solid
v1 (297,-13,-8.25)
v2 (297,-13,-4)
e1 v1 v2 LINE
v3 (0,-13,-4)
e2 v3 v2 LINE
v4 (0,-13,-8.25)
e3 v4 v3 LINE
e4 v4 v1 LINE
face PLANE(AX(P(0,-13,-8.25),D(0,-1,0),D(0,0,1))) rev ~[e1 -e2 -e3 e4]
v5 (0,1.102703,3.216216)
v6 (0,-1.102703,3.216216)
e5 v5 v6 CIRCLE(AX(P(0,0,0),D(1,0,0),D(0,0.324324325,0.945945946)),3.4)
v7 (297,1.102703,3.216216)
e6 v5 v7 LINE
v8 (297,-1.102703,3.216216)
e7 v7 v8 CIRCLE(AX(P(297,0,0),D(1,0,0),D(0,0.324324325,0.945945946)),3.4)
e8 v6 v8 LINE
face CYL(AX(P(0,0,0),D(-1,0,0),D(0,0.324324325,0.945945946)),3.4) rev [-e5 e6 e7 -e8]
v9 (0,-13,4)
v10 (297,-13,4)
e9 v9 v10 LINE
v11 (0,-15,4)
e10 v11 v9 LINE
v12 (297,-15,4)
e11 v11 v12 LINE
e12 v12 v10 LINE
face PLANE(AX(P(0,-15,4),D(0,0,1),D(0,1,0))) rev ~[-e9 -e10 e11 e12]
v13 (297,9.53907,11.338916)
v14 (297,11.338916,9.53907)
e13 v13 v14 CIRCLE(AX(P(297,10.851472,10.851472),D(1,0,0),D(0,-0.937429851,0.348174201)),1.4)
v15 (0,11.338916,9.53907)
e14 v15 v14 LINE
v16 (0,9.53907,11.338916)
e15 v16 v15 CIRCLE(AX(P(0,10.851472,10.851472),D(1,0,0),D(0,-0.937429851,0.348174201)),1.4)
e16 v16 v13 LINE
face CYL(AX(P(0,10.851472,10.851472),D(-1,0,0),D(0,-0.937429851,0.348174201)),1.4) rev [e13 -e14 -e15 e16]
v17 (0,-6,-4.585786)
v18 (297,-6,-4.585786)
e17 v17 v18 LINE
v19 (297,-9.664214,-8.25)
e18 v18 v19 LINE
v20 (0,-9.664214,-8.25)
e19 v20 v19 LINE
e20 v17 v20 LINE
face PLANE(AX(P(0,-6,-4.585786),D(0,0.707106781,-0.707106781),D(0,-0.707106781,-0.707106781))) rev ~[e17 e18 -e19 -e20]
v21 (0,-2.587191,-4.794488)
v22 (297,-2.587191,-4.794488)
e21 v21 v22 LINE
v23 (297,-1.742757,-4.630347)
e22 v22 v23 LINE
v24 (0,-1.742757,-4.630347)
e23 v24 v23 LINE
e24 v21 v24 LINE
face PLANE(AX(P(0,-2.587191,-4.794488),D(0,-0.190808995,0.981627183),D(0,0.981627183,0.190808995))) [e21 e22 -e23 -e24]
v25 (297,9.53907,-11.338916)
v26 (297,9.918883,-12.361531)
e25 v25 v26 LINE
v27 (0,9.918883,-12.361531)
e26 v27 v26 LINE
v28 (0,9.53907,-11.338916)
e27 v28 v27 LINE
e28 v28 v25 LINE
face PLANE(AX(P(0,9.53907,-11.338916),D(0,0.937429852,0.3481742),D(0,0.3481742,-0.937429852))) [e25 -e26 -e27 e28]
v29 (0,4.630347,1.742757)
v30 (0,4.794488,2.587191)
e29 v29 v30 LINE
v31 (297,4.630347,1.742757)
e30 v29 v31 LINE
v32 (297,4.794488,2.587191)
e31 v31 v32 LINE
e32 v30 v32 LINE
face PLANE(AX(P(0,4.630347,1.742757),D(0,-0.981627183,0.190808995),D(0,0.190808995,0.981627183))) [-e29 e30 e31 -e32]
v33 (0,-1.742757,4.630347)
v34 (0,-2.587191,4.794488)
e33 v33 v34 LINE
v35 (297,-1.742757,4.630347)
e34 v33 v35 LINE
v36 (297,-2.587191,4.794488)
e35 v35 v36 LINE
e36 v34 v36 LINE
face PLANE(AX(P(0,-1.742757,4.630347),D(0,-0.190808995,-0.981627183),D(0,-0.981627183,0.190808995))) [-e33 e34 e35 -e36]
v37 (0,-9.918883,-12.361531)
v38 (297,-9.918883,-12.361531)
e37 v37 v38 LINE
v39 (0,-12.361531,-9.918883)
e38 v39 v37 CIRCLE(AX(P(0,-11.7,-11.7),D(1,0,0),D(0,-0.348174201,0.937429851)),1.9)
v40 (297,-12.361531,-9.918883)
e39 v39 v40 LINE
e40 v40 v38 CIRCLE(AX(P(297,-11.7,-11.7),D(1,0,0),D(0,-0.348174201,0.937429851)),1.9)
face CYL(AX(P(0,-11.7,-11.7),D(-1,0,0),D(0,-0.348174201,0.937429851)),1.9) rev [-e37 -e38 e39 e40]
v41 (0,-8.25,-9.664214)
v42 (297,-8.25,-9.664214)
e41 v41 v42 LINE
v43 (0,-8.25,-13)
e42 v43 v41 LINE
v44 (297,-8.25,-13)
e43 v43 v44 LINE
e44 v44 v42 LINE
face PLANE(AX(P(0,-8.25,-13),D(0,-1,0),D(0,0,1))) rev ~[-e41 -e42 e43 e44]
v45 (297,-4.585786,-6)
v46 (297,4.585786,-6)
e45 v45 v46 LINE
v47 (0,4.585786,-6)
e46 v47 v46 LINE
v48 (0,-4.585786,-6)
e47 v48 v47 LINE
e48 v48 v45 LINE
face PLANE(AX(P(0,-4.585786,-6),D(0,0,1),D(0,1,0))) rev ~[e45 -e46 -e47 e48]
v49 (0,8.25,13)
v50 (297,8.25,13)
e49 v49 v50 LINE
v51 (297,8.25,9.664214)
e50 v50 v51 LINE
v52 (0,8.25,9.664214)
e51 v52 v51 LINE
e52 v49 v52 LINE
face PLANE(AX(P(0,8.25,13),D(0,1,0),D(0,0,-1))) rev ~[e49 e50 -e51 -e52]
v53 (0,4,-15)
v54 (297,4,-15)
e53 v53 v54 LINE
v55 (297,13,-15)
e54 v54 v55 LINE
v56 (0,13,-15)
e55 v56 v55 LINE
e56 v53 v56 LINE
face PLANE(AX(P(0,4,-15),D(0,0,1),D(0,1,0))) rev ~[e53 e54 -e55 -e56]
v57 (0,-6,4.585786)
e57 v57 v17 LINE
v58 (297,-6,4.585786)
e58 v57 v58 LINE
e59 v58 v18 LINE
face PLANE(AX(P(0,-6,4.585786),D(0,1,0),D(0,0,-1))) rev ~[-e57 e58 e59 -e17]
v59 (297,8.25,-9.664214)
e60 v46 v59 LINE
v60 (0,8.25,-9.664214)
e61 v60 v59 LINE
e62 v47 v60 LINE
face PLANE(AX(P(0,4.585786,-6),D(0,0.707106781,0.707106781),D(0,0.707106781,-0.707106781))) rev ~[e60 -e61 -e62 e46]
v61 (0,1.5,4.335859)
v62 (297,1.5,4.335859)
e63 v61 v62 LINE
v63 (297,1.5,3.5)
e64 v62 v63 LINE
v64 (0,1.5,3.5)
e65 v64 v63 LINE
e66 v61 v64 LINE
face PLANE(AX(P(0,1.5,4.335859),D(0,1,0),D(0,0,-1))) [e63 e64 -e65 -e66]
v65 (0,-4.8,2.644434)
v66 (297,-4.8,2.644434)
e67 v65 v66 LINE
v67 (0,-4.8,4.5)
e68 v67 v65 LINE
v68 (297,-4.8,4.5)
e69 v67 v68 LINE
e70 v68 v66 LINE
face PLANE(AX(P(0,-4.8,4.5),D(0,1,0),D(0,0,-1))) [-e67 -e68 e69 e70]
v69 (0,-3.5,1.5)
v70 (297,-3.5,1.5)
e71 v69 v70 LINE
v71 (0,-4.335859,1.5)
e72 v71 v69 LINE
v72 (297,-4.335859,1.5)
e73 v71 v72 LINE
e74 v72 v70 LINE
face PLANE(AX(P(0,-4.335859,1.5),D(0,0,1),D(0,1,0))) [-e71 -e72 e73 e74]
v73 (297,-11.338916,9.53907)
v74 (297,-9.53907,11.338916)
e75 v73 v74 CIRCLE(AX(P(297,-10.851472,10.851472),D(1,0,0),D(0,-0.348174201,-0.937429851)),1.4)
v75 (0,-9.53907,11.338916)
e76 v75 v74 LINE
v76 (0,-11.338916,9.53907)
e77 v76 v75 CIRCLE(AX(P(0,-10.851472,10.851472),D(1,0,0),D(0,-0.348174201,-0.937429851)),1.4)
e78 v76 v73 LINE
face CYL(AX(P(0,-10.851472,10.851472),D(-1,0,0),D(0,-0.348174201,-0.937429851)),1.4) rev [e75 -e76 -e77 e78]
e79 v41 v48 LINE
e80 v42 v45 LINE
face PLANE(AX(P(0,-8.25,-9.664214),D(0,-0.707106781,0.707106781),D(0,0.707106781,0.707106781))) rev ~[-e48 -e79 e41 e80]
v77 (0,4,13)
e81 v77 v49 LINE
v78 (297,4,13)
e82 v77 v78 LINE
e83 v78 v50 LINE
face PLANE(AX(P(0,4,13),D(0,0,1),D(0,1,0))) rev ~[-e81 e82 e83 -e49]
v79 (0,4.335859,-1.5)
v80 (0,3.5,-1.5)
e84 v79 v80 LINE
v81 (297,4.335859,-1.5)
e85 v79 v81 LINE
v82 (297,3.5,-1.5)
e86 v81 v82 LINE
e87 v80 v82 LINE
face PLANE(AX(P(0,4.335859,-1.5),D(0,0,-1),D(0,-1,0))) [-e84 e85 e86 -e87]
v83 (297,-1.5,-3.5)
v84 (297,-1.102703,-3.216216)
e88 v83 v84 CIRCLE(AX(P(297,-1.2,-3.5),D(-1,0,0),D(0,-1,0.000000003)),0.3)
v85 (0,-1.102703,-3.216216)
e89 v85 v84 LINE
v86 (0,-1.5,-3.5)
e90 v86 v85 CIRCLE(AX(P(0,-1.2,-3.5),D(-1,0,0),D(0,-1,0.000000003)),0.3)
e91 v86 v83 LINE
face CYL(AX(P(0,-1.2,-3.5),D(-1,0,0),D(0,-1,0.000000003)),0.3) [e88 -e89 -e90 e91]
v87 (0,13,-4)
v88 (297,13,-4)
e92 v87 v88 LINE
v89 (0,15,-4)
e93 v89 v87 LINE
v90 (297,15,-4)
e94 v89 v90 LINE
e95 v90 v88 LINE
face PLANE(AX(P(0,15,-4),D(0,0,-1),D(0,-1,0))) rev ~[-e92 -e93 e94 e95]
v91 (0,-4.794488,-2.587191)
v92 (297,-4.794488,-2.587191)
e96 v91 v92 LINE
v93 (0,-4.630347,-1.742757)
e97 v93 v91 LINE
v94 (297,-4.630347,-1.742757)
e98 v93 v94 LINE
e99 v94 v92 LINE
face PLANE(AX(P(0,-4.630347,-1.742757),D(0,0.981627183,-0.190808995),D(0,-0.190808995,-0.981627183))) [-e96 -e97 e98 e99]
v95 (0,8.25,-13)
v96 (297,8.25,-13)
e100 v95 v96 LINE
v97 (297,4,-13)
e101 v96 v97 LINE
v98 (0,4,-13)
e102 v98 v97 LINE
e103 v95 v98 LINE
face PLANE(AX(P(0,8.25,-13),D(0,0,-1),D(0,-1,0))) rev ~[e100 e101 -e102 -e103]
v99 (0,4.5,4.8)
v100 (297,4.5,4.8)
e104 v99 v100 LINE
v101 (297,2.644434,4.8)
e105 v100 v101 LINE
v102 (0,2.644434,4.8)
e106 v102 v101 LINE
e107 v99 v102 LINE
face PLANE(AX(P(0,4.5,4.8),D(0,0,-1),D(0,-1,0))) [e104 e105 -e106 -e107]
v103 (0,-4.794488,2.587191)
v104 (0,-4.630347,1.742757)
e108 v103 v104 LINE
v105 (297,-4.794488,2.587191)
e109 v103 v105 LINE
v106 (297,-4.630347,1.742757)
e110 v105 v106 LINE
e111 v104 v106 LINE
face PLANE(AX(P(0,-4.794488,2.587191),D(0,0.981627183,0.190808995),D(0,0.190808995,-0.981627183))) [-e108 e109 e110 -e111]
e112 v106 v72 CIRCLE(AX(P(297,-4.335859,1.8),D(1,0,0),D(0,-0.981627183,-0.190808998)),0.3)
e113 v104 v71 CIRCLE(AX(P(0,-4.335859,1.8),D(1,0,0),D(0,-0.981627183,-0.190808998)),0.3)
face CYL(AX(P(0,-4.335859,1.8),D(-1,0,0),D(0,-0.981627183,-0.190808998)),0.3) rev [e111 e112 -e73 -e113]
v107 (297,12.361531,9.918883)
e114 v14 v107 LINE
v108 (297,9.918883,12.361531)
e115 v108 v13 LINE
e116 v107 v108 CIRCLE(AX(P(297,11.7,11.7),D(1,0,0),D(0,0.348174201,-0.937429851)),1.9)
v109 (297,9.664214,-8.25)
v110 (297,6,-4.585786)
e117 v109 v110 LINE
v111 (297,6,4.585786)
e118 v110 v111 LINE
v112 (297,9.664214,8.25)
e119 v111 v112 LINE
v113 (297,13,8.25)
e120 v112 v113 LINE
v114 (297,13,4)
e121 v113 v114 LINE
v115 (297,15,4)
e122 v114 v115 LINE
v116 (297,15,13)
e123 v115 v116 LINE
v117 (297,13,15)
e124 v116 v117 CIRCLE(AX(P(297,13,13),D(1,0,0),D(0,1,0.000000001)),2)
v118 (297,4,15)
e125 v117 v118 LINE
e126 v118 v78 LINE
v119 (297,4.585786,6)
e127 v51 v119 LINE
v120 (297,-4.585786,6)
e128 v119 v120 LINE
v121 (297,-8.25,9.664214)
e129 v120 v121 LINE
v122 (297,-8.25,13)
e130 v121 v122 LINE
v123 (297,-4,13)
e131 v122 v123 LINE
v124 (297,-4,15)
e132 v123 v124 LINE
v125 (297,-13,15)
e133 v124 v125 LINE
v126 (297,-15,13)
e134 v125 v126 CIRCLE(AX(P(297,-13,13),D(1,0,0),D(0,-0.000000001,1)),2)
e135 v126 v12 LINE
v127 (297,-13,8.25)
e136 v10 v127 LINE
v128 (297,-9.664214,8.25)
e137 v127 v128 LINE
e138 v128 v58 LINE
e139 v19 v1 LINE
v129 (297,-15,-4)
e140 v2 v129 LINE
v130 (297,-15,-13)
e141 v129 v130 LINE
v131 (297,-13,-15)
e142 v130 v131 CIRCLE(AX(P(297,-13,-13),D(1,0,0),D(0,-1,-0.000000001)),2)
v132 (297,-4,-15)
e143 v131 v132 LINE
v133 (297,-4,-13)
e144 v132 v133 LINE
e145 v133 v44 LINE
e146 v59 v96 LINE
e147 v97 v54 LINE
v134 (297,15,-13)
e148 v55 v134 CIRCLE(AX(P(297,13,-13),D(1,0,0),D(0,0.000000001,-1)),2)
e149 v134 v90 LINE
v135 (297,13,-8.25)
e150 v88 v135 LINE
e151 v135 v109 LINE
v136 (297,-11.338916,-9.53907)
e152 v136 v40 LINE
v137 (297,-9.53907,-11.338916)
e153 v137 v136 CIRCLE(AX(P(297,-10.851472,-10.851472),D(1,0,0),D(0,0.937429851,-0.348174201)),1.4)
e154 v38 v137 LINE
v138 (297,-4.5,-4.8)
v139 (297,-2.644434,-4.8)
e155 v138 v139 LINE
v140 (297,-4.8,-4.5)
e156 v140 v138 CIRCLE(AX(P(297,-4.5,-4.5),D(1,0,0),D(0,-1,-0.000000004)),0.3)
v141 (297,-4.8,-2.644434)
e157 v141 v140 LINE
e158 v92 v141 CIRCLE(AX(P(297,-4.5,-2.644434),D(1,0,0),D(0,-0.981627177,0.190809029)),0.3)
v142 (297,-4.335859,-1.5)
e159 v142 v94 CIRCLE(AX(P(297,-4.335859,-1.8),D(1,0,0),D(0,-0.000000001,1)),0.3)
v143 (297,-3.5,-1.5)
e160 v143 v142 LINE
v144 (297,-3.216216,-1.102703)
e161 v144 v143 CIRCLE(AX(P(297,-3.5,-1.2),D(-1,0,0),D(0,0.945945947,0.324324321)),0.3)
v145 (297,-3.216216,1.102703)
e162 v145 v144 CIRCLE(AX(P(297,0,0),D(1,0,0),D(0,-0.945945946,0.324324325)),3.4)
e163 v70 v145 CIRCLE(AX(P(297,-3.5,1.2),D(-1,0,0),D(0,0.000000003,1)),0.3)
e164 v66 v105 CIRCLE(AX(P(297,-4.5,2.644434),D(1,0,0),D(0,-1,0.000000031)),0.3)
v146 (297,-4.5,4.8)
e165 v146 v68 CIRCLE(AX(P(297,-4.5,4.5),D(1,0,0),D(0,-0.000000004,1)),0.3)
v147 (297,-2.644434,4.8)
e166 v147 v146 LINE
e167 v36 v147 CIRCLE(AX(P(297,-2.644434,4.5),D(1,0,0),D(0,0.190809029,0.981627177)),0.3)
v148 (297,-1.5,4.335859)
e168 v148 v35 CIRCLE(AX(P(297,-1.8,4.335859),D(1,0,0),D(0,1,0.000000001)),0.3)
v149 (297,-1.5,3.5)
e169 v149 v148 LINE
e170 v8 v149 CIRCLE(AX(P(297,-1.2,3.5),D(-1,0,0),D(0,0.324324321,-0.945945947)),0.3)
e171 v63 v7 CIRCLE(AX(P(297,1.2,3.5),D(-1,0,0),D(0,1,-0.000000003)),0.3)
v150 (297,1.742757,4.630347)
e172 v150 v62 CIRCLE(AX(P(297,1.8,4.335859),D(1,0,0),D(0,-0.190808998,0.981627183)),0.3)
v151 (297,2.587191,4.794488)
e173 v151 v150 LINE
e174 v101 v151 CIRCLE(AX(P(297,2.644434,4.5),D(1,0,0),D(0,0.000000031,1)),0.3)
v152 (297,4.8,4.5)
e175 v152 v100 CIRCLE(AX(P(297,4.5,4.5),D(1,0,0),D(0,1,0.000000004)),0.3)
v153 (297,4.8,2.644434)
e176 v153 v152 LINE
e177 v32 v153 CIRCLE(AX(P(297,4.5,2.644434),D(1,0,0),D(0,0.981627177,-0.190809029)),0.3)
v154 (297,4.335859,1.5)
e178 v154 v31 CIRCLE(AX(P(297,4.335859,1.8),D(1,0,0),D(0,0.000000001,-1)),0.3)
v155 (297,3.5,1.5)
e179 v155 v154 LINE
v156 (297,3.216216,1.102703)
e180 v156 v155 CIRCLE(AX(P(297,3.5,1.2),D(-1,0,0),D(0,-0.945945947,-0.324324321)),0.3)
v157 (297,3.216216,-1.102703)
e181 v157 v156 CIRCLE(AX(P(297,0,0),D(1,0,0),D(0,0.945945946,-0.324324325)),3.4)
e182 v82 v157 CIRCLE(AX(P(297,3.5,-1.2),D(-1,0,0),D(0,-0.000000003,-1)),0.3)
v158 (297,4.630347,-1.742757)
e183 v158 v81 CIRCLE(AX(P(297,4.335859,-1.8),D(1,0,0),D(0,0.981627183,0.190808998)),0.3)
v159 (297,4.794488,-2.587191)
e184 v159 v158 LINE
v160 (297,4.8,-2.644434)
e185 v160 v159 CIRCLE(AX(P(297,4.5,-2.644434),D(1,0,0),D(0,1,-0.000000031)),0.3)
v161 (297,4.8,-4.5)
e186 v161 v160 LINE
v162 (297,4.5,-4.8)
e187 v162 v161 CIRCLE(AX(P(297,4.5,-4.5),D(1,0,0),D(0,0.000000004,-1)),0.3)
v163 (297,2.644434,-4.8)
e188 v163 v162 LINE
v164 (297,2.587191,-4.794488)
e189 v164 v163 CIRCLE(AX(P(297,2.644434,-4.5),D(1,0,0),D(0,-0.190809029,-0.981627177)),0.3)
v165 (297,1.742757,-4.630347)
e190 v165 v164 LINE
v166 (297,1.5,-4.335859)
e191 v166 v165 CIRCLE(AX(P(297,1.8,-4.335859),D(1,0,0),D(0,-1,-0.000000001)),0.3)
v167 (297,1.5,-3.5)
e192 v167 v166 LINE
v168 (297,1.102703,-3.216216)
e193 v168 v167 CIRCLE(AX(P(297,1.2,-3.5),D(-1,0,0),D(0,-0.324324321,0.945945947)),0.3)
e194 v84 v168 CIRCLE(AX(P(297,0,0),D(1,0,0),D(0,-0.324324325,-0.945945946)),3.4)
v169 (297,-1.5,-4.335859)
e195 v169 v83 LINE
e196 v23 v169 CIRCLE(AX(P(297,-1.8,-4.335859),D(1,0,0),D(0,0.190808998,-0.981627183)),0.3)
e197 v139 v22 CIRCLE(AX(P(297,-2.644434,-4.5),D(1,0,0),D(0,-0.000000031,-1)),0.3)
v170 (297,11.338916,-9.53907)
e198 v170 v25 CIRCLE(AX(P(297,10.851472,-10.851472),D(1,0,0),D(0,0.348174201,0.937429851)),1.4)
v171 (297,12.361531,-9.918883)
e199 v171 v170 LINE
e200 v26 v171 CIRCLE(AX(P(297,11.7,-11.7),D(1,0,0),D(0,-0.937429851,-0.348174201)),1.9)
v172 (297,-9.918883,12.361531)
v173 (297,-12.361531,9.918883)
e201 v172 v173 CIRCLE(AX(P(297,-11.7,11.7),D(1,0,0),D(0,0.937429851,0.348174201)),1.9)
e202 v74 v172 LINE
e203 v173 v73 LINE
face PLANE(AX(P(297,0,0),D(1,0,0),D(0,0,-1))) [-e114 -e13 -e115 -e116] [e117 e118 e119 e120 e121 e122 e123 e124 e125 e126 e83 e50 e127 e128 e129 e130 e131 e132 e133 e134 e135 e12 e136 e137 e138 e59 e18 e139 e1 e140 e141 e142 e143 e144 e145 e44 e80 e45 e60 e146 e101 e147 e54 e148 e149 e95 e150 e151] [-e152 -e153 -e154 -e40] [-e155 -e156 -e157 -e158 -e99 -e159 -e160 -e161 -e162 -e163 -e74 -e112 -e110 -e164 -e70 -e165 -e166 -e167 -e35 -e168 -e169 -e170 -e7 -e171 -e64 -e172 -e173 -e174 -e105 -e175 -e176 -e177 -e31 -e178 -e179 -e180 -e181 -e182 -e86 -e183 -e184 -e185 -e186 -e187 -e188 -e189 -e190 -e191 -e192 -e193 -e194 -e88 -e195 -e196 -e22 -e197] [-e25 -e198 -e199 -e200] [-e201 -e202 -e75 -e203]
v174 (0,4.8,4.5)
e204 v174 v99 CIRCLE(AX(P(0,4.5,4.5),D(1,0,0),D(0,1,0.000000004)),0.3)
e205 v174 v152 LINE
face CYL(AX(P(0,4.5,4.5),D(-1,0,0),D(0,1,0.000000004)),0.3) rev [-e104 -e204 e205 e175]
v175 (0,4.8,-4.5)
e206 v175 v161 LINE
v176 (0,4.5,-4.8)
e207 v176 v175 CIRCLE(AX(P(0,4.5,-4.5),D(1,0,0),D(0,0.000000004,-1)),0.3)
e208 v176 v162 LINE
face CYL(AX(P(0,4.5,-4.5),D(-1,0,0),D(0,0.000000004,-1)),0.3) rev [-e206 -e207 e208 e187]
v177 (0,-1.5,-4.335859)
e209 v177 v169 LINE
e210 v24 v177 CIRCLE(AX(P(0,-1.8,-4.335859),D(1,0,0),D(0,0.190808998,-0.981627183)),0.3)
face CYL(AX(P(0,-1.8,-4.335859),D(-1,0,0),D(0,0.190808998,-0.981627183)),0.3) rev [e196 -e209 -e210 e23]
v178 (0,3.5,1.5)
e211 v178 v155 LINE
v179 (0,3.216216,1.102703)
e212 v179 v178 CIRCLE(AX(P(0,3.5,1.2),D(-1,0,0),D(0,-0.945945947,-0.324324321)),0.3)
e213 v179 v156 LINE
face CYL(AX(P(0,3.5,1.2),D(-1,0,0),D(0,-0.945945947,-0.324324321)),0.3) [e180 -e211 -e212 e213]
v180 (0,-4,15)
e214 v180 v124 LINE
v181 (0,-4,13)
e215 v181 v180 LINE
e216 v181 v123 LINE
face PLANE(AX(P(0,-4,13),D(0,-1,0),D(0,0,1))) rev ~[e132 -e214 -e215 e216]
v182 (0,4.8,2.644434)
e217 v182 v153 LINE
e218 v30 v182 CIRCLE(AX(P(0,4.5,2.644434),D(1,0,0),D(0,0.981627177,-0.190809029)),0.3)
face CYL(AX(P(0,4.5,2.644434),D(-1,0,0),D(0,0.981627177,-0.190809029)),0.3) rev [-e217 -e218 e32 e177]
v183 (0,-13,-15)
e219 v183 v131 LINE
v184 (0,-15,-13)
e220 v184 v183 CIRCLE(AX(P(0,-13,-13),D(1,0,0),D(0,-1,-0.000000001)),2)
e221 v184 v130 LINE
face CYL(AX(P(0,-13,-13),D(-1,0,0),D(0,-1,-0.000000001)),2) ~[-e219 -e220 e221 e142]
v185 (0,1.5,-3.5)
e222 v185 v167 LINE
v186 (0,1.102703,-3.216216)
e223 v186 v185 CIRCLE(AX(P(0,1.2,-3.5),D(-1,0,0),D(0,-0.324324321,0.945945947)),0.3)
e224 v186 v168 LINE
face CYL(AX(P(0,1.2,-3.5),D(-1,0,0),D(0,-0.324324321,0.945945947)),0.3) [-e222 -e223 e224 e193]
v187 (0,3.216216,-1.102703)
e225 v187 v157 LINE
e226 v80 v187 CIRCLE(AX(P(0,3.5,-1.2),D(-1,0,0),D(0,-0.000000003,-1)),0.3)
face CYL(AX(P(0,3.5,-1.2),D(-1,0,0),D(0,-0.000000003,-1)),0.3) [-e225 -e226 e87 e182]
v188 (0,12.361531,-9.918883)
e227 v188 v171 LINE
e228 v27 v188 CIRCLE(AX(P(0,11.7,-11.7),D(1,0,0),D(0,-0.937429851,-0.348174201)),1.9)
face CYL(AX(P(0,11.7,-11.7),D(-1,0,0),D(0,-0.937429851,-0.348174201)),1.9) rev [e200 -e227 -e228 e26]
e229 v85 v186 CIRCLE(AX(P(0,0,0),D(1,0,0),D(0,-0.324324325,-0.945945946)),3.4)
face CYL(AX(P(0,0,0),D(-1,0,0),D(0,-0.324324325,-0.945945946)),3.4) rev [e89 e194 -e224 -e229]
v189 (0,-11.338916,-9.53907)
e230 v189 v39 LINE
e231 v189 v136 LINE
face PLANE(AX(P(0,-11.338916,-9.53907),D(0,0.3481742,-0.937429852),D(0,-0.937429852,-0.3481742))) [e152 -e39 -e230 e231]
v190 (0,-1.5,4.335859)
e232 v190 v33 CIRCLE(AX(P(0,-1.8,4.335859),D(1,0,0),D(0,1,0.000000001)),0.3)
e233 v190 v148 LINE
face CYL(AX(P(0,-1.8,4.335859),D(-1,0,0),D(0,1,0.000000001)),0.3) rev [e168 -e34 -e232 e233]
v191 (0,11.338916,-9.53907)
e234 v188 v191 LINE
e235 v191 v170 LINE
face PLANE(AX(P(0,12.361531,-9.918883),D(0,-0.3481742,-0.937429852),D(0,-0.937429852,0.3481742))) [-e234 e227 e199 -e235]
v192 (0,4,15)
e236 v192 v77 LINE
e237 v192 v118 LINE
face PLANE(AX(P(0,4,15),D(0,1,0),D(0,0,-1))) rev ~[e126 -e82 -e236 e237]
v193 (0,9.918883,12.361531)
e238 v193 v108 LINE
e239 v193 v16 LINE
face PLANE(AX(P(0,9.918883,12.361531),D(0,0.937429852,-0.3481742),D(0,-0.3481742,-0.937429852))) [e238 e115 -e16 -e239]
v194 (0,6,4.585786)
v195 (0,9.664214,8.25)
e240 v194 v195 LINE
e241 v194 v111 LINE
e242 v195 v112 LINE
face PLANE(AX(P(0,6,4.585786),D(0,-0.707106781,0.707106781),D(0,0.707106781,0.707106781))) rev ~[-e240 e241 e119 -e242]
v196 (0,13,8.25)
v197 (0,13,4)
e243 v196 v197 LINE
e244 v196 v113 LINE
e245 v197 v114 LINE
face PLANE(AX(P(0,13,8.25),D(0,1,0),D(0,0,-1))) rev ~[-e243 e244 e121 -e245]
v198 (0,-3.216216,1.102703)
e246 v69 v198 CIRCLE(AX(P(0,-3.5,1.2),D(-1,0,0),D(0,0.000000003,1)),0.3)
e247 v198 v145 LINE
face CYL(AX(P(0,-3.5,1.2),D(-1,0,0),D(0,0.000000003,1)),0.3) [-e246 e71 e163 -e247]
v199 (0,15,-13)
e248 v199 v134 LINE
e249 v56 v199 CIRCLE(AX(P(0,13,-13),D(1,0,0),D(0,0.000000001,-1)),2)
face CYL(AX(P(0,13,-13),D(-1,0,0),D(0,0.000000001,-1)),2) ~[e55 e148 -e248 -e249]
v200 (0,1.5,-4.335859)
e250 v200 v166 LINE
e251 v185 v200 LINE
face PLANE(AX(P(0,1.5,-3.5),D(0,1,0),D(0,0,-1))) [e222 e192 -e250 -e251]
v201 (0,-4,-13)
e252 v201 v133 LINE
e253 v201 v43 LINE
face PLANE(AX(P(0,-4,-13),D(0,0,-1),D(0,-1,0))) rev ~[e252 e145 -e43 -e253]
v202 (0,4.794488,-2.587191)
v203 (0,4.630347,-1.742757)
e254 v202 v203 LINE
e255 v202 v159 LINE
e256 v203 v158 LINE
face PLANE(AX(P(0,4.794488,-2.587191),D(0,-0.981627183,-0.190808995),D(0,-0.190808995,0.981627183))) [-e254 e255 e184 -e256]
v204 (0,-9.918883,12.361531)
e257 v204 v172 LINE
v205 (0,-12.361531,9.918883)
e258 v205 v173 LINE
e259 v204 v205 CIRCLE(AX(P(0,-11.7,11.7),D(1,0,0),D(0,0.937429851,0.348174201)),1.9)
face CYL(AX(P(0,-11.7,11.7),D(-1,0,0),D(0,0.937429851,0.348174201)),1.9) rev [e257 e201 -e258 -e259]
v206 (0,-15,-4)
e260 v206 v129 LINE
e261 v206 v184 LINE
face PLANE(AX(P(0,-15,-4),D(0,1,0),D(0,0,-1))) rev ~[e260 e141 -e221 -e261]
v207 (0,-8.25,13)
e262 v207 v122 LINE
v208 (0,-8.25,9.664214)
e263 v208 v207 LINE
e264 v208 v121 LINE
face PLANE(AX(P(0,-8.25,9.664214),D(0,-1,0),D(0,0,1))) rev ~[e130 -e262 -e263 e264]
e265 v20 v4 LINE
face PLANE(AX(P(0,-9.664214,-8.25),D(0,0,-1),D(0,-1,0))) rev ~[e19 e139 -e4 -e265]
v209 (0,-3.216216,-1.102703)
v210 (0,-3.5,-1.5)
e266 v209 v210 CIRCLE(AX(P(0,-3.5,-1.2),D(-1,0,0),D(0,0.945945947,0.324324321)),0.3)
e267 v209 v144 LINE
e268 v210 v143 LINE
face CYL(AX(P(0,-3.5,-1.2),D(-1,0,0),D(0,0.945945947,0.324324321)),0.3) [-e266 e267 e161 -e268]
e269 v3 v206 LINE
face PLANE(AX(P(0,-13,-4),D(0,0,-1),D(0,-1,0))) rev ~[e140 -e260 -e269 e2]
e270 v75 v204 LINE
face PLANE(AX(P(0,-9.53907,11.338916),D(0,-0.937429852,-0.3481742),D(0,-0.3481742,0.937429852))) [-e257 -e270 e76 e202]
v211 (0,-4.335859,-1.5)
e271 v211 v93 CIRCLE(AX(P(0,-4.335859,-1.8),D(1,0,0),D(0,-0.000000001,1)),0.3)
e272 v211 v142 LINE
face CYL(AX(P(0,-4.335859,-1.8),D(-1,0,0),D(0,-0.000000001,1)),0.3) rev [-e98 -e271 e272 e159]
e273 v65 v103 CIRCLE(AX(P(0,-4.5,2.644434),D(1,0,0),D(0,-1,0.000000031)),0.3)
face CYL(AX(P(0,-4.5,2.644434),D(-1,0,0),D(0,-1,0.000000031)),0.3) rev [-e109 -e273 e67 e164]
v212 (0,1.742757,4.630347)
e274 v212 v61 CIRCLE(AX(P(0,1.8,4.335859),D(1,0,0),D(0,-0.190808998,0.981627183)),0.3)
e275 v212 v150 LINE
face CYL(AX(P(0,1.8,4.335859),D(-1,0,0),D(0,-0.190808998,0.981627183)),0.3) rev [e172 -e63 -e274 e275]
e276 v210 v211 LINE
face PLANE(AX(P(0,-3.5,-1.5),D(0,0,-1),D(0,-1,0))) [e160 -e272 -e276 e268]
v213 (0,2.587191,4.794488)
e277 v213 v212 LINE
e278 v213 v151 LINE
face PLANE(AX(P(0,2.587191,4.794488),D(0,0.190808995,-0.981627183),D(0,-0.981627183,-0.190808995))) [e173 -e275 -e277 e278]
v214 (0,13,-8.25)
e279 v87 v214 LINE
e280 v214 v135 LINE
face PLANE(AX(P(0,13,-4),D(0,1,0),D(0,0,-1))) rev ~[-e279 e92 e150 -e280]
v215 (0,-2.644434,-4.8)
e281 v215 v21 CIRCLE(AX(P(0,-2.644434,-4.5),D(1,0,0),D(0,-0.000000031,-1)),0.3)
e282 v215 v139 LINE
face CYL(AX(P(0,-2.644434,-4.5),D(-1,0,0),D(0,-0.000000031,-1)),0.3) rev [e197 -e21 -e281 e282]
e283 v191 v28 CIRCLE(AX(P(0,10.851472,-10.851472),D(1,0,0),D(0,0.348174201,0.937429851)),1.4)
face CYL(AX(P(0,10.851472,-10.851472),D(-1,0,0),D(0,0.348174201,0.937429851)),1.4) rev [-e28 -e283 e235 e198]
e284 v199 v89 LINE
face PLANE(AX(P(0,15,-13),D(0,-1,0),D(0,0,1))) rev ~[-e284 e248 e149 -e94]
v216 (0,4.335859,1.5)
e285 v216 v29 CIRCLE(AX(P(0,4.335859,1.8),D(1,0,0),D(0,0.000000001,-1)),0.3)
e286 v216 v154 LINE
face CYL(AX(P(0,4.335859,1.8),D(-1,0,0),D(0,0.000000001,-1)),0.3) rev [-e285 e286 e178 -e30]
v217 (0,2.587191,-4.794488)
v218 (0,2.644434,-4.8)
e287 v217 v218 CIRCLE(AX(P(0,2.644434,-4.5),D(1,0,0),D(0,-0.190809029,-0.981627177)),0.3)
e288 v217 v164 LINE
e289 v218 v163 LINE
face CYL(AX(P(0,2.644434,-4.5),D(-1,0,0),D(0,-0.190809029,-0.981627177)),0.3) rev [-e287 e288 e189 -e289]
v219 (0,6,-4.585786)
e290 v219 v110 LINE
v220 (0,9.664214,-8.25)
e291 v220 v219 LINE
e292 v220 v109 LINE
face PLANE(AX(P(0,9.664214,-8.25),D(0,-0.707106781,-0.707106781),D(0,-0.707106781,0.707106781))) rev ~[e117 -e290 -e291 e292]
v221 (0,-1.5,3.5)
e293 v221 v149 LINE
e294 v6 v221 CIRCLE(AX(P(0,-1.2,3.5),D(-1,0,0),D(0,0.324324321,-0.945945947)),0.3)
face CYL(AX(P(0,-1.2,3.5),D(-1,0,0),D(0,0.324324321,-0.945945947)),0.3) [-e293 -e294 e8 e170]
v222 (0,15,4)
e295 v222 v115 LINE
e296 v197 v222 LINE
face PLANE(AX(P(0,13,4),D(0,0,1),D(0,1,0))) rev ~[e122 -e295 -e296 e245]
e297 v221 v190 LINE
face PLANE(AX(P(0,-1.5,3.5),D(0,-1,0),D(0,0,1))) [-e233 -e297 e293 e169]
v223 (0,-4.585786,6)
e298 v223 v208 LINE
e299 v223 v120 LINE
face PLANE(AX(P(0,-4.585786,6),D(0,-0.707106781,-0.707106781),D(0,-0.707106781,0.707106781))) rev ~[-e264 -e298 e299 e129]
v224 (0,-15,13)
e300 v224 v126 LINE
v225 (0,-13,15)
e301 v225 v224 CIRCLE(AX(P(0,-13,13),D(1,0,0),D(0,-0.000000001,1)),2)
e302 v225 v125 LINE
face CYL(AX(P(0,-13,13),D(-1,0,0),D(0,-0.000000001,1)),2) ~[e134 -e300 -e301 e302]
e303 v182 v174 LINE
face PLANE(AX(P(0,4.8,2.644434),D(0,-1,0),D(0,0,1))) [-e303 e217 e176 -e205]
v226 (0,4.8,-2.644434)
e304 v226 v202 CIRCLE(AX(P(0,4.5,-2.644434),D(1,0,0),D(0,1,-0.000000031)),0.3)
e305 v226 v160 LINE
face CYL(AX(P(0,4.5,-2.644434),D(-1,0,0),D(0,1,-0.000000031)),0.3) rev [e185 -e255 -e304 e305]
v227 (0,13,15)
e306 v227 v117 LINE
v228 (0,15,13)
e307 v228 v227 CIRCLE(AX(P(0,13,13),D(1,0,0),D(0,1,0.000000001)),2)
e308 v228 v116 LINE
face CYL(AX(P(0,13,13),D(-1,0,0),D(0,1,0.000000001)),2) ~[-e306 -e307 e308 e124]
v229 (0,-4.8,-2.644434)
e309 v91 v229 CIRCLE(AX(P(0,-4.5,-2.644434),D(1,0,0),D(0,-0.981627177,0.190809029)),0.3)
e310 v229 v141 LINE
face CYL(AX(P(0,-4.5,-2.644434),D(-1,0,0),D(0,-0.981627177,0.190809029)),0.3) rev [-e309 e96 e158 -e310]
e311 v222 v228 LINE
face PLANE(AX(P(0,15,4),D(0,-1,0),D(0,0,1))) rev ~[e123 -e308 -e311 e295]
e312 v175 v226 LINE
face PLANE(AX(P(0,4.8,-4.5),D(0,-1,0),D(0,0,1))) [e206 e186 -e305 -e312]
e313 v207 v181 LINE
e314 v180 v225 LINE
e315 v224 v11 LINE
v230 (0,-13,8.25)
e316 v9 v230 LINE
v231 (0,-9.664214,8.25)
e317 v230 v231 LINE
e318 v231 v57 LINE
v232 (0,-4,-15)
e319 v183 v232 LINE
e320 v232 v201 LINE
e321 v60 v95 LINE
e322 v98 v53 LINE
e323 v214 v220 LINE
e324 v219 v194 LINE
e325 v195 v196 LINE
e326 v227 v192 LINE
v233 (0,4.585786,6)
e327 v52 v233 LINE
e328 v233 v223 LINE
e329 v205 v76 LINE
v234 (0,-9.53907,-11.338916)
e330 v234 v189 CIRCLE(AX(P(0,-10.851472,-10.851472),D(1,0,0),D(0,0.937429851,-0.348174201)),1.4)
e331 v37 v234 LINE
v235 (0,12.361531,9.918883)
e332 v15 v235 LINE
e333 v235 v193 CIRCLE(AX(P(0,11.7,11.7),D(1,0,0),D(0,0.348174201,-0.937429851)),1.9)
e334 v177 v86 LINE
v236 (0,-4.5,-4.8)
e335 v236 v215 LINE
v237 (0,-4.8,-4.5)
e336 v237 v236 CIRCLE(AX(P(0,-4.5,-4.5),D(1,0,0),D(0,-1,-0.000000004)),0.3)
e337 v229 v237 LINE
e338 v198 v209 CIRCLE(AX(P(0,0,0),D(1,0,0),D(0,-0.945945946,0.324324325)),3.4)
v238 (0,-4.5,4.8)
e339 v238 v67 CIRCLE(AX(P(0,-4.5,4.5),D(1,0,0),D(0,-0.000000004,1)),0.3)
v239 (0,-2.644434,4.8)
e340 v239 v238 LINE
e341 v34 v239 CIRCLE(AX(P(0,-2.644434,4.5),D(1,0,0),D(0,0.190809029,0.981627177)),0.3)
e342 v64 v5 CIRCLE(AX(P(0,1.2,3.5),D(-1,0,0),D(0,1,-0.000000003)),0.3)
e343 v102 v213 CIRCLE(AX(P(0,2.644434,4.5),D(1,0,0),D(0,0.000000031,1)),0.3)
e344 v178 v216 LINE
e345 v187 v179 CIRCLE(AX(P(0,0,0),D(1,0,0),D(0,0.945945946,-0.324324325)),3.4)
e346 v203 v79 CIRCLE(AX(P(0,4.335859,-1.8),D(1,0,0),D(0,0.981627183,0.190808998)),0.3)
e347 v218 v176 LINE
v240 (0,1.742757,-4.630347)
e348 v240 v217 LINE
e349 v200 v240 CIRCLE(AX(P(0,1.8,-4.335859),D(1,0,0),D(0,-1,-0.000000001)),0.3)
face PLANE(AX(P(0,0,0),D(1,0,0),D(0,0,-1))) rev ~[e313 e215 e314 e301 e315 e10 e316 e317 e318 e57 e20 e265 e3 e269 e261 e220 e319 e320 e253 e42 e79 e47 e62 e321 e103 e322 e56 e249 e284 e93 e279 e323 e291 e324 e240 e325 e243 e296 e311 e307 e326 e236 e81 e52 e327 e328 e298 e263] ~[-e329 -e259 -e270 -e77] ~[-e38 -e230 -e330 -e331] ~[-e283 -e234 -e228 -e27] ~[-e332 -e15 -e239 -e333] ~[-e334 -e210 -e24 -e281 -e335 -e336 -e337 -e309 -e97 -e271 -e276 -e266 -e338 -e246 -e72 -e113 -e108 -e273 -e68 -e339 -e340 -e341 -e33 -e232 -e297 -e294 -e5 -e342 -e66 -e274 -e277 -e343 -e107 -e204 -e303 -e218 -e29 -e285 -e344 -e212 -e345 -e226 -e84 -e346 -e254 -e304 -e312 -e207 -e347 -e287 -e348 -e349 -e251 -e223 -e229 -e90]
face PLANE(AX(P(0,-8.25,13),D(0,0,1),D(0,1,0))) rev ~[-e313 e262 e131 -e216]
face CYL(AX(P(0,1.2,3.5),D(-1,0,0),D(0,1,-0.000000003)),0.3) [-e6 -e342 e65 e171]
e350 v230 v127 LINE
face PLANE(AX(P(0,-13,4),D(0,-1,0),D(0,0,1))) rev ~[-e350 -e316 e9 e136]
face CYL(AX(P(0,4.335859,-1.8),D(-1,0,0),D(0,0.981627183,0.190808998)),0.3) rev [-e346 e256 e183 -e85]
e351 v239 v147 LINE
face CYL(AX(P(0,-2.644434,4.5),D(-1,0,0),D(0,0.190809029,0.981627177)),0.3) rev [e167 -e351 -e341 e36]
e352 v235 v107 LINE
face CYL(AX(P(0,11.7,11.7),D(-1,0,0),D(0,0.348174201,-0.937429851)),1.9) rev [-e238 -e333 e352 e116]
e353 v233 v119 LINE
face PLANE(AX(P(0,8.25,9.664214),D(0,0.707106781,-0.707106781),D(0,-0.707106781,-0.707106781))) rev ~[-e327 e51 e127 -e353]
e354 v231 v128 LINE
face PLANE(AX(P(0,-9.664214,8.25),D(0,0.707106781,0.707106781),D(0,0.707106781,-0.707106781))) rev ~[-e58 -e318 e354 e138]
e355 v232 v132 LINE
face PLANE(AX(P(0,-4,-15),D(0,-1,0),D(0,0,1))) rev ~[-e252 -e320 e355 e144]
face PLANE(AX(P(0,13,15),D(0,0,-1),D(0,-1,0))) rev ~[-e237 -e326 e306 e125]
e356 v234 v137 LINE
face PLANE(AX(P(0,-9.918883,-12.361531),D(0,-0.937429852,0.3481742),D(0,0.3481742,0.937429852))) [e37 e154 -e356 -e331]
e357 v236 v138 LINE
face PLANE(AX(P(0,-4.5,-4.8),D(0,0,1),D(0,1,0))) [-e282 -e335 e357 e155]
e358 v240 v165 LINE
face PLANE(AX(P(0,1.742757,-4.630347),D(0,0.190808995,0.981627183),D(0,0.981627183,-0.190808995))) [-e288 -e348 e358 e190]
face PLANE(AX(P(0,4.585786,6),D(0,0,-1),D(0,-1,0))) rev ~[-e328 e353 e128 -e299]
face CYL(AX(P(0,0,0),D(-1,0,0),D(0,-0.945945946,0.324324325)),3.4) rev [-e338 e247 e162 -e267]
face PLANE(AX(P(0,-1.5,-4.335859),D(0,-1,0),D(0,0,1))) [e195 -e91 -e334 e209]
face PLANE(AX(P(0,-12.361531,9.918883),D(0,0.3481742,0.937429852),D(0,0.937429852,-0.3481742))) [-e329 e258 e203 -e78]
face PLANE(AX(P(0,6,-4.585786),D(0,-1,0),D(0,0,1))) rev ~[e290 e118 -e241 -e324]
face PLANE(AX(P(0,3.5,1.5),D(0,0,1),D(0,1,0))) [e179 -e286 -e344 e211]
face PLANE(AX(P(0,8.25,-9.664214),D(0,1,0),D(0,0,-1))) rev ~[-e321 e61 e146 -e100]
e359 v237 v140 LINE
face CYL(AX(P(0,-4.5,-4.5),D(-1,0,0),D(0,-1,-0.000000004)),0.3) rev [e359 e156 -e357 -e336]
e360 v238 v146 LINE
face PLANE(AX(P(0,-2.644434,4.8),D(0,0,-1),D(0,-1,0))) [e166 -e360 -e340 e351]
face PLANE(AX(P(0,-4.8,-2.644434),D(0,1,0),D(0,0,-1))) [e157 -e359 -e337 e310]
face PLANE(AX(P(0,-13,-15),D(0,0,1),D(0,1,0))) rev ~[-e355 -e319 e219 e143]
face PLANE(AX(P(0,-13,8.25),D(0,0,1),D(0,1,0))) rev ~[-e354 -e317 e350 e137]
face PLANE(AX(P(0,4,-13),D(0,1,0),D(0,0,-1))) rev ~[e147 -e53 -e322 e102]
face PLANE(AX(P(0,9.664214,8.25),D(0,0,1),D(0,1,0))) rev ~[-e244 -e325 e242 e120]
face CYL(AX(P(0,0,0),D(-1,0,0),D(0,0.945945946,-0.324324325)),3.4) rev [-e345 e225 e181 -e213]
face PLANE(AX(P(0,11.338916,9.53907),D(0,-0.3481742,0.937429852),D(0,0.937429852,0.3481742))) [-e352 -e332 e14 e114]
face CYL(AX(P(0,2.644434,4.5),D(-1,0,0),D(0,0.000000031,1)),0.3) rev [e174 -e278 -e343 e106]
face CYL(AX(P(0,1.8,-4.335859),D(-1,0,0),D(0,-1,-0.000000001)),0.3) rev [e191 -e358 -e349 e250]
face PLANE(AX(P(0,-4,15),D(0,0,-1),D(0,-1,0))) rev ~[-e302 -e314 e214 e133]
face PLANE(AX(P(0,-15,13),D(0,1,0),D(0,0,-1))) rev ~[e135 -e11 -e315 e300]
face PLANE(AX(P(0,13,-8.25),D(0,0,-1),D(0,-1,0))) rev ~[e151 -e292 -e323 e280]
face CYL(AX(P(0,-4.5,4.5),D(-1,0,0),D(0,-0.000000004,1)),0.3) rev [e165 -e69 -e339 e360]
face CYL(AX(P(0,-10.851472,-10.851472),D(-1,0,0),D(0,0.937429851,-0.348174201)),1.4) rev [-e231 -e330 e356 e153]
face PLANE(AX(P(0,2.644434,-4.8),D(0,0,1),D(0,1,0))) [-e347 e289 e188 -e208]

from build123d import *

# Parameters (mm, degrees)
BOSS_EXTRUDE1_DEPTH = 297


with BuildPart() as part:
    # Sketch1 → Boss-Extrude1 (new body)
    with BuildSketch(Plane(origin=(0, 0, 0), x_dir=(0, 0, -1), z_dir=(1, 0, 0))):
        with BuildLine():
            Line((-15, 13), (-15, 4))
            Line((-15, 4), (-13, 4))
            Line((-13, 4), (-13, 8.25))
            Line((-13, 8.25), (-9.664213562, 8.25))
            Line((-9.664213562, 8.25), (-6, 4.585786438))
            Line((-6, 4.585786438), (-6, -4.585786438))
            Line((-6, -4.585786438), (-9.664213562, -8.25))
            Line((-9.664213562, -8.25), (-13, -8.25))
            Line((-13, -8.25), (-13, -4))
            Line((-13, -4), (-15, -4))
            Line((-15, -4), (-15, -13))
            ThreePointArc((-15, -13), (-14.414213562, -14.414213562), (-13, -15))
            Line((-13, -15), (-4, -15))
            Line((-4, -15), (-4, -13))
            Line((-4, -13), (-8.25, -13))
            Line((-8.25, -13), (-8.25, -9.664213562))
            Line((-8.25, -9.664213562), (-4.585786438, -6))
            Line((-4.585786438, -6), (4.585786438, -6))
            Line((4.585786438, -6), (8.25, -9.664213562))
            Line((8.25, -9.664213562), (8.25, -13))
            Line((8.25, -13), (4, -13))
            Line((4, -13), (4, -15))
            Line((4, -15), (13, -15))
            ThreePointArc((13, -15), (14.414213562, -14.414213562), (15, -13))
            Line((15, -13), (15, -4))
            Line((15, -4), (13, -4))
            Line((13, -4), (13, -8.25))
            Line((13, -8.25), (9.664213562, -8.25))
            Line((9.664213562, -8.25), (6, -4.585786438))
            Line((6, -4.585786438), (6, 4.585786438))
            Line((6, 4.585786438), (9.664213562, 8.25))
            Line((9.664213562, 8.25), (13, 8.25))
            Line((13, 8.25), (13, 4))
            Line((13, 4), (15, 4))
            Line((15, 4), (15, 13))
            ThreePointArc((15, 13), (14.414213562, 14.414213562), (13, 15))
            Line((13, 15), (4, 15))
            Line((4, 15), (4, 13))
            Line((4, 13), (8.25, 13))
            Line((8.25, 13), (8.25, 9.664213562))
            Line((8.25, 9.664213562), (4.585786438, 6))
            Line((4.585786438, 6), (-4.585786438, 6))
            Line((-4.585786438, 6), (-8.25, 9.664213562))
            Line((-8.25, 9.664213562), (-8.25, 13))
            Line((-8.25, 13), (-4, 13))
            Line((-4, 13), (-4, 15))
            Line((-4, 15), (-13, 15))
            ThreePointArc((-13, 15), (-14.414213562, 14.414213562), (-15, 13))
        make_face()
        with BuildLine():
            Line((-9.539070071, 11.338915743), (-9.918883282, 12.361530981))
            ThreePointArc((-9.918883282, 12.361530981), (-13.043502884, 13.043502884), (-12.361530981, 9.918883282))
            Line((-12.361530981, 9.918883282), (-11.338915743, 9.539070071))
            ThreePointArc((-11.338915743, 9.539070071), (-9.861522369, 9.861522369), (-9.539070071, 11.338915743))
        make_face(mode=Mode.SUBTRACT)
        with BuildLine():
            Line((9.918883282, 12.361530981), (9.539070071, 11.338915743))
            ThreePointArc((9.539070071, 11.338915743), (9.861522369, 9.861522369), (11.338915743, 9.539070071))
            Line((11.338915743, 9.539070071), (12.361530981, 9.918883282))
            ThreePointArc((12.361530981, 9.918883282), (13.043502884, 13.043502884), (9.918883282, 12.361530981))
        make_face(mode=Mode.SUBTRACT)
        with BuildLine():
            Line((12.361530981, -9.918883282), (11.338915743, -9.539070071))
            ThreePointArc((11.338915743, -9.539070071), (9.861522369, -9.861522369), (9.539070071, -11.338915743))
            Line((9.539070071, -11.338915743), (9.918883282, -12.361530981))
            ThreePointArc((9.918883282, -12.361530981), (13.043502884, -13.043502884), (12.361530981, -9.918883282))
        make_face(mode=Mode.SUBTRACT)
        with BuildLine():
            Line((-11.338915743, -9.539070071), (-12.361530981, -9.918883282))
            ThreePointArc((-12.361530981, -9.918883282), (-13.043502884, -13.043502884), (-9.918883282, -12.361530981))
            Line((-9.918883282, -12.361530981), (-9.539070071, -11.338915743))
            ThreePointArc((-9.539070071, -11.338915743), (-9.861522369, -9.861522369), (-11.338915743, -9.539070071))
        make_face(mode=Mode.SUBTRACT)
        with BuildLine():
            Line((-4.8, -2.644433572), (-4.8, -4.5))
            ThreePointArc((-4.8, -4.5), (-4.712132034, -4.712132034), (-4.5, -4.8))
            Line((-4.5, -4.8), (-2.644433572, -4.8))
            ThreePointArc((-2.644433572, -4.8), (-2.615679847, -4.79861886), (-2.587190874, -4.794488155))
            Line((-2.587190874, -4.794488155), (-1.742757301, -4.630346896))
            ThreePointArc((-1.742757301, -4.630346896), (-1.568512625, -4.526682207), (-1.5, -4.335858741))
            Line((-1.5, -4.335858741), (-1.5, -3.5))
            ThreePointArc((-1.5, -3.5), (-1.374371458, -3.255879959), (-1.102702703, -3.216216216))
            ThreePointArc((-1.102702703, -3.216216216), (0, -3.4), (1.102702703, -3.216216216))
            ThreePointArc((1.102702703, -3.216216216), (1.374371458, -3.255879959), (1.5, -3.5))
            Line((1.5, -3.5), (1.5, -4.335858741))
            ThreePointArc((1.5, -4.335858741), (1.568512625, -4.526682207), (1.742757301, -4.630346896))
            Line((1.742757301, -4.630346896), (2.587190874, -4.794488155))
            ThreePointArc((2.587190874, -4.794488155), (2.615679847, -4.79861886), (2.644433572, -4.8))
            Line((2.644433572, -4.8), (4.5, -4.8))
            ThreePointArc((4.5, -4.8), (4.712132034, -4.712132034), (4.8, -4.5))
            Line((4.8, -4.5), (4.8, -2.644433572))
            ThreePointArc((4.8, -2.644433572), (4.79861886, -2.615679847), (4.794488155, -2.587190874))
            Line((4.794488155, -2.587190874), (4.630346896, -1.742757301))
            ThreePointArc((4.630346896, -1.742757301), (4.526682207, -1.568512625), (4.335858741, -1.5))
            Line((4.335858741, -1.5), (3.5, -1.5))
            ThreePointArc((3.5, -1.5), (3.255879959, -1.374371458), (3.216216216, -1.102702703))
            ThreePointArc((3.216216216, -1.102702703), (3.4, 0), (3.216216216, 1.102702703))
            ThreePointArc((3.216216216, 1.102702703), (3.255879959, 1.374371458), (3.5, 1.5))
            Line((3.5, 1.5), (4.335858741, 1.5))
            ThreePointArc((4.335858741, 1.5), (4.526682207, 1.568512625), (4.630346896, 1.742757301))
            Line((4.630346896, 1.742757301), (4.794488155, 2.587190874))
            ThreePointArc((4.794488155, 2.587190874), (4.79861886, 2.615679847), (4.8, 2.644433572))
            Line((4.8, 2.644433572), (4.8, 4.5))
            ThreePointArc((4.8, 4.5), (4.712132034, 4.712132034), (4.5, 4.8))
            Line((4.5, 4.8), (2.644433572, 4.8))
            ThreePointArc((2.644433572, 4.8), (2.615679847, 4.79861886), (2.587190874, 4.794488155))
            Line((2.587190874, 4.794488155), (1.742757301, 4.630346896))
            ThreePointArc((1.742757301, 4.630346896), (1.568512625, 4.526682207), (1.5, 4.335858741))
            Line((1.5, 4.335858741), (1.5, 3.5))
            ThreePointArc((1.5, 3.5), (1.374371458, 3.255879959), (1.102702703, 3.216216216))
            ThreePointArc((1.102702703, 3.216216216), (0, 3.4), (-1.102702703, 3.216216216))
            ThreePointArc((-1.102702703, 3.216216216), (-1.374371458, 3.255879959), (-1.5, 3.5))
            Line((-1.5, 3.5), (-1.5, 4.335858741))
            ThreePointArc((-1.5, 4.335858741), (-1.568512625, 4.526682207), (-1.742757301, 4.630346896))
            Line((-1.742757301, 4.630346896), (-2.587190874, 4.794488155))
            ThreePointArc((-2.587190874, 4.794488155), (-2.615679847, 4.79861886), (-2.644433572, 4.8))
            Line((-2.644433572, 4.8), (-4.5, 4.8))
            ThreePointArc((-4.5, 4.8), (-4.712132034, 4.712132034), (-4.8, 4.5))
            Line((-4.8, 4.5), (-4.8, 2.644433572))
            ThreePointArc((-4.8, 2.644433572), (-4.79861886, 2.615679847), (-4.794488155, 2.587190874))
            Line((-4.794488155, 2.587190874), (-4.630346896, 1.742757301))
            ThreePointArc((-4.630346896, 1.742757301), (-4.526682207, 1.568512625), (-4.335858741, 1.5))
            Line((-4.335858741, 1.5), (-3.5, 1.5))
            ThreePointArc((-3.5, 1.5), (-3.255879959, 1.374371458), (-3.216216216, 1.102702703))
            ThreePointArc((-3.216216216, 1.102702703), (-3.4, 0), (-3.216216216, -1.102702703))
            ThreePointArc((-3.216216216, -1.102702703), (-3.255879959, -1.374371458), (-3.5, -1.5))
            Line((-3.5, -1.5), (-4.335858741, -1.5))
            ThreePointArc((-4.335858741, -1.5), (-4.526682207, -1.568512625), (-4.630346896, -1.742757301))
            Line((-4.630346896, -1.742757301), (-4.794488155, -2.587190874))
            ThreePointArc((-4.794488155, -2.587190874), (-4.79861886, -2.615679847), (-4.8, -2.644433572))
        make_face(mode=Mode.SUBTRACT)
    extrude(amount=BOSS_EXTRUDE1_DEPTH)


solid = part.part
